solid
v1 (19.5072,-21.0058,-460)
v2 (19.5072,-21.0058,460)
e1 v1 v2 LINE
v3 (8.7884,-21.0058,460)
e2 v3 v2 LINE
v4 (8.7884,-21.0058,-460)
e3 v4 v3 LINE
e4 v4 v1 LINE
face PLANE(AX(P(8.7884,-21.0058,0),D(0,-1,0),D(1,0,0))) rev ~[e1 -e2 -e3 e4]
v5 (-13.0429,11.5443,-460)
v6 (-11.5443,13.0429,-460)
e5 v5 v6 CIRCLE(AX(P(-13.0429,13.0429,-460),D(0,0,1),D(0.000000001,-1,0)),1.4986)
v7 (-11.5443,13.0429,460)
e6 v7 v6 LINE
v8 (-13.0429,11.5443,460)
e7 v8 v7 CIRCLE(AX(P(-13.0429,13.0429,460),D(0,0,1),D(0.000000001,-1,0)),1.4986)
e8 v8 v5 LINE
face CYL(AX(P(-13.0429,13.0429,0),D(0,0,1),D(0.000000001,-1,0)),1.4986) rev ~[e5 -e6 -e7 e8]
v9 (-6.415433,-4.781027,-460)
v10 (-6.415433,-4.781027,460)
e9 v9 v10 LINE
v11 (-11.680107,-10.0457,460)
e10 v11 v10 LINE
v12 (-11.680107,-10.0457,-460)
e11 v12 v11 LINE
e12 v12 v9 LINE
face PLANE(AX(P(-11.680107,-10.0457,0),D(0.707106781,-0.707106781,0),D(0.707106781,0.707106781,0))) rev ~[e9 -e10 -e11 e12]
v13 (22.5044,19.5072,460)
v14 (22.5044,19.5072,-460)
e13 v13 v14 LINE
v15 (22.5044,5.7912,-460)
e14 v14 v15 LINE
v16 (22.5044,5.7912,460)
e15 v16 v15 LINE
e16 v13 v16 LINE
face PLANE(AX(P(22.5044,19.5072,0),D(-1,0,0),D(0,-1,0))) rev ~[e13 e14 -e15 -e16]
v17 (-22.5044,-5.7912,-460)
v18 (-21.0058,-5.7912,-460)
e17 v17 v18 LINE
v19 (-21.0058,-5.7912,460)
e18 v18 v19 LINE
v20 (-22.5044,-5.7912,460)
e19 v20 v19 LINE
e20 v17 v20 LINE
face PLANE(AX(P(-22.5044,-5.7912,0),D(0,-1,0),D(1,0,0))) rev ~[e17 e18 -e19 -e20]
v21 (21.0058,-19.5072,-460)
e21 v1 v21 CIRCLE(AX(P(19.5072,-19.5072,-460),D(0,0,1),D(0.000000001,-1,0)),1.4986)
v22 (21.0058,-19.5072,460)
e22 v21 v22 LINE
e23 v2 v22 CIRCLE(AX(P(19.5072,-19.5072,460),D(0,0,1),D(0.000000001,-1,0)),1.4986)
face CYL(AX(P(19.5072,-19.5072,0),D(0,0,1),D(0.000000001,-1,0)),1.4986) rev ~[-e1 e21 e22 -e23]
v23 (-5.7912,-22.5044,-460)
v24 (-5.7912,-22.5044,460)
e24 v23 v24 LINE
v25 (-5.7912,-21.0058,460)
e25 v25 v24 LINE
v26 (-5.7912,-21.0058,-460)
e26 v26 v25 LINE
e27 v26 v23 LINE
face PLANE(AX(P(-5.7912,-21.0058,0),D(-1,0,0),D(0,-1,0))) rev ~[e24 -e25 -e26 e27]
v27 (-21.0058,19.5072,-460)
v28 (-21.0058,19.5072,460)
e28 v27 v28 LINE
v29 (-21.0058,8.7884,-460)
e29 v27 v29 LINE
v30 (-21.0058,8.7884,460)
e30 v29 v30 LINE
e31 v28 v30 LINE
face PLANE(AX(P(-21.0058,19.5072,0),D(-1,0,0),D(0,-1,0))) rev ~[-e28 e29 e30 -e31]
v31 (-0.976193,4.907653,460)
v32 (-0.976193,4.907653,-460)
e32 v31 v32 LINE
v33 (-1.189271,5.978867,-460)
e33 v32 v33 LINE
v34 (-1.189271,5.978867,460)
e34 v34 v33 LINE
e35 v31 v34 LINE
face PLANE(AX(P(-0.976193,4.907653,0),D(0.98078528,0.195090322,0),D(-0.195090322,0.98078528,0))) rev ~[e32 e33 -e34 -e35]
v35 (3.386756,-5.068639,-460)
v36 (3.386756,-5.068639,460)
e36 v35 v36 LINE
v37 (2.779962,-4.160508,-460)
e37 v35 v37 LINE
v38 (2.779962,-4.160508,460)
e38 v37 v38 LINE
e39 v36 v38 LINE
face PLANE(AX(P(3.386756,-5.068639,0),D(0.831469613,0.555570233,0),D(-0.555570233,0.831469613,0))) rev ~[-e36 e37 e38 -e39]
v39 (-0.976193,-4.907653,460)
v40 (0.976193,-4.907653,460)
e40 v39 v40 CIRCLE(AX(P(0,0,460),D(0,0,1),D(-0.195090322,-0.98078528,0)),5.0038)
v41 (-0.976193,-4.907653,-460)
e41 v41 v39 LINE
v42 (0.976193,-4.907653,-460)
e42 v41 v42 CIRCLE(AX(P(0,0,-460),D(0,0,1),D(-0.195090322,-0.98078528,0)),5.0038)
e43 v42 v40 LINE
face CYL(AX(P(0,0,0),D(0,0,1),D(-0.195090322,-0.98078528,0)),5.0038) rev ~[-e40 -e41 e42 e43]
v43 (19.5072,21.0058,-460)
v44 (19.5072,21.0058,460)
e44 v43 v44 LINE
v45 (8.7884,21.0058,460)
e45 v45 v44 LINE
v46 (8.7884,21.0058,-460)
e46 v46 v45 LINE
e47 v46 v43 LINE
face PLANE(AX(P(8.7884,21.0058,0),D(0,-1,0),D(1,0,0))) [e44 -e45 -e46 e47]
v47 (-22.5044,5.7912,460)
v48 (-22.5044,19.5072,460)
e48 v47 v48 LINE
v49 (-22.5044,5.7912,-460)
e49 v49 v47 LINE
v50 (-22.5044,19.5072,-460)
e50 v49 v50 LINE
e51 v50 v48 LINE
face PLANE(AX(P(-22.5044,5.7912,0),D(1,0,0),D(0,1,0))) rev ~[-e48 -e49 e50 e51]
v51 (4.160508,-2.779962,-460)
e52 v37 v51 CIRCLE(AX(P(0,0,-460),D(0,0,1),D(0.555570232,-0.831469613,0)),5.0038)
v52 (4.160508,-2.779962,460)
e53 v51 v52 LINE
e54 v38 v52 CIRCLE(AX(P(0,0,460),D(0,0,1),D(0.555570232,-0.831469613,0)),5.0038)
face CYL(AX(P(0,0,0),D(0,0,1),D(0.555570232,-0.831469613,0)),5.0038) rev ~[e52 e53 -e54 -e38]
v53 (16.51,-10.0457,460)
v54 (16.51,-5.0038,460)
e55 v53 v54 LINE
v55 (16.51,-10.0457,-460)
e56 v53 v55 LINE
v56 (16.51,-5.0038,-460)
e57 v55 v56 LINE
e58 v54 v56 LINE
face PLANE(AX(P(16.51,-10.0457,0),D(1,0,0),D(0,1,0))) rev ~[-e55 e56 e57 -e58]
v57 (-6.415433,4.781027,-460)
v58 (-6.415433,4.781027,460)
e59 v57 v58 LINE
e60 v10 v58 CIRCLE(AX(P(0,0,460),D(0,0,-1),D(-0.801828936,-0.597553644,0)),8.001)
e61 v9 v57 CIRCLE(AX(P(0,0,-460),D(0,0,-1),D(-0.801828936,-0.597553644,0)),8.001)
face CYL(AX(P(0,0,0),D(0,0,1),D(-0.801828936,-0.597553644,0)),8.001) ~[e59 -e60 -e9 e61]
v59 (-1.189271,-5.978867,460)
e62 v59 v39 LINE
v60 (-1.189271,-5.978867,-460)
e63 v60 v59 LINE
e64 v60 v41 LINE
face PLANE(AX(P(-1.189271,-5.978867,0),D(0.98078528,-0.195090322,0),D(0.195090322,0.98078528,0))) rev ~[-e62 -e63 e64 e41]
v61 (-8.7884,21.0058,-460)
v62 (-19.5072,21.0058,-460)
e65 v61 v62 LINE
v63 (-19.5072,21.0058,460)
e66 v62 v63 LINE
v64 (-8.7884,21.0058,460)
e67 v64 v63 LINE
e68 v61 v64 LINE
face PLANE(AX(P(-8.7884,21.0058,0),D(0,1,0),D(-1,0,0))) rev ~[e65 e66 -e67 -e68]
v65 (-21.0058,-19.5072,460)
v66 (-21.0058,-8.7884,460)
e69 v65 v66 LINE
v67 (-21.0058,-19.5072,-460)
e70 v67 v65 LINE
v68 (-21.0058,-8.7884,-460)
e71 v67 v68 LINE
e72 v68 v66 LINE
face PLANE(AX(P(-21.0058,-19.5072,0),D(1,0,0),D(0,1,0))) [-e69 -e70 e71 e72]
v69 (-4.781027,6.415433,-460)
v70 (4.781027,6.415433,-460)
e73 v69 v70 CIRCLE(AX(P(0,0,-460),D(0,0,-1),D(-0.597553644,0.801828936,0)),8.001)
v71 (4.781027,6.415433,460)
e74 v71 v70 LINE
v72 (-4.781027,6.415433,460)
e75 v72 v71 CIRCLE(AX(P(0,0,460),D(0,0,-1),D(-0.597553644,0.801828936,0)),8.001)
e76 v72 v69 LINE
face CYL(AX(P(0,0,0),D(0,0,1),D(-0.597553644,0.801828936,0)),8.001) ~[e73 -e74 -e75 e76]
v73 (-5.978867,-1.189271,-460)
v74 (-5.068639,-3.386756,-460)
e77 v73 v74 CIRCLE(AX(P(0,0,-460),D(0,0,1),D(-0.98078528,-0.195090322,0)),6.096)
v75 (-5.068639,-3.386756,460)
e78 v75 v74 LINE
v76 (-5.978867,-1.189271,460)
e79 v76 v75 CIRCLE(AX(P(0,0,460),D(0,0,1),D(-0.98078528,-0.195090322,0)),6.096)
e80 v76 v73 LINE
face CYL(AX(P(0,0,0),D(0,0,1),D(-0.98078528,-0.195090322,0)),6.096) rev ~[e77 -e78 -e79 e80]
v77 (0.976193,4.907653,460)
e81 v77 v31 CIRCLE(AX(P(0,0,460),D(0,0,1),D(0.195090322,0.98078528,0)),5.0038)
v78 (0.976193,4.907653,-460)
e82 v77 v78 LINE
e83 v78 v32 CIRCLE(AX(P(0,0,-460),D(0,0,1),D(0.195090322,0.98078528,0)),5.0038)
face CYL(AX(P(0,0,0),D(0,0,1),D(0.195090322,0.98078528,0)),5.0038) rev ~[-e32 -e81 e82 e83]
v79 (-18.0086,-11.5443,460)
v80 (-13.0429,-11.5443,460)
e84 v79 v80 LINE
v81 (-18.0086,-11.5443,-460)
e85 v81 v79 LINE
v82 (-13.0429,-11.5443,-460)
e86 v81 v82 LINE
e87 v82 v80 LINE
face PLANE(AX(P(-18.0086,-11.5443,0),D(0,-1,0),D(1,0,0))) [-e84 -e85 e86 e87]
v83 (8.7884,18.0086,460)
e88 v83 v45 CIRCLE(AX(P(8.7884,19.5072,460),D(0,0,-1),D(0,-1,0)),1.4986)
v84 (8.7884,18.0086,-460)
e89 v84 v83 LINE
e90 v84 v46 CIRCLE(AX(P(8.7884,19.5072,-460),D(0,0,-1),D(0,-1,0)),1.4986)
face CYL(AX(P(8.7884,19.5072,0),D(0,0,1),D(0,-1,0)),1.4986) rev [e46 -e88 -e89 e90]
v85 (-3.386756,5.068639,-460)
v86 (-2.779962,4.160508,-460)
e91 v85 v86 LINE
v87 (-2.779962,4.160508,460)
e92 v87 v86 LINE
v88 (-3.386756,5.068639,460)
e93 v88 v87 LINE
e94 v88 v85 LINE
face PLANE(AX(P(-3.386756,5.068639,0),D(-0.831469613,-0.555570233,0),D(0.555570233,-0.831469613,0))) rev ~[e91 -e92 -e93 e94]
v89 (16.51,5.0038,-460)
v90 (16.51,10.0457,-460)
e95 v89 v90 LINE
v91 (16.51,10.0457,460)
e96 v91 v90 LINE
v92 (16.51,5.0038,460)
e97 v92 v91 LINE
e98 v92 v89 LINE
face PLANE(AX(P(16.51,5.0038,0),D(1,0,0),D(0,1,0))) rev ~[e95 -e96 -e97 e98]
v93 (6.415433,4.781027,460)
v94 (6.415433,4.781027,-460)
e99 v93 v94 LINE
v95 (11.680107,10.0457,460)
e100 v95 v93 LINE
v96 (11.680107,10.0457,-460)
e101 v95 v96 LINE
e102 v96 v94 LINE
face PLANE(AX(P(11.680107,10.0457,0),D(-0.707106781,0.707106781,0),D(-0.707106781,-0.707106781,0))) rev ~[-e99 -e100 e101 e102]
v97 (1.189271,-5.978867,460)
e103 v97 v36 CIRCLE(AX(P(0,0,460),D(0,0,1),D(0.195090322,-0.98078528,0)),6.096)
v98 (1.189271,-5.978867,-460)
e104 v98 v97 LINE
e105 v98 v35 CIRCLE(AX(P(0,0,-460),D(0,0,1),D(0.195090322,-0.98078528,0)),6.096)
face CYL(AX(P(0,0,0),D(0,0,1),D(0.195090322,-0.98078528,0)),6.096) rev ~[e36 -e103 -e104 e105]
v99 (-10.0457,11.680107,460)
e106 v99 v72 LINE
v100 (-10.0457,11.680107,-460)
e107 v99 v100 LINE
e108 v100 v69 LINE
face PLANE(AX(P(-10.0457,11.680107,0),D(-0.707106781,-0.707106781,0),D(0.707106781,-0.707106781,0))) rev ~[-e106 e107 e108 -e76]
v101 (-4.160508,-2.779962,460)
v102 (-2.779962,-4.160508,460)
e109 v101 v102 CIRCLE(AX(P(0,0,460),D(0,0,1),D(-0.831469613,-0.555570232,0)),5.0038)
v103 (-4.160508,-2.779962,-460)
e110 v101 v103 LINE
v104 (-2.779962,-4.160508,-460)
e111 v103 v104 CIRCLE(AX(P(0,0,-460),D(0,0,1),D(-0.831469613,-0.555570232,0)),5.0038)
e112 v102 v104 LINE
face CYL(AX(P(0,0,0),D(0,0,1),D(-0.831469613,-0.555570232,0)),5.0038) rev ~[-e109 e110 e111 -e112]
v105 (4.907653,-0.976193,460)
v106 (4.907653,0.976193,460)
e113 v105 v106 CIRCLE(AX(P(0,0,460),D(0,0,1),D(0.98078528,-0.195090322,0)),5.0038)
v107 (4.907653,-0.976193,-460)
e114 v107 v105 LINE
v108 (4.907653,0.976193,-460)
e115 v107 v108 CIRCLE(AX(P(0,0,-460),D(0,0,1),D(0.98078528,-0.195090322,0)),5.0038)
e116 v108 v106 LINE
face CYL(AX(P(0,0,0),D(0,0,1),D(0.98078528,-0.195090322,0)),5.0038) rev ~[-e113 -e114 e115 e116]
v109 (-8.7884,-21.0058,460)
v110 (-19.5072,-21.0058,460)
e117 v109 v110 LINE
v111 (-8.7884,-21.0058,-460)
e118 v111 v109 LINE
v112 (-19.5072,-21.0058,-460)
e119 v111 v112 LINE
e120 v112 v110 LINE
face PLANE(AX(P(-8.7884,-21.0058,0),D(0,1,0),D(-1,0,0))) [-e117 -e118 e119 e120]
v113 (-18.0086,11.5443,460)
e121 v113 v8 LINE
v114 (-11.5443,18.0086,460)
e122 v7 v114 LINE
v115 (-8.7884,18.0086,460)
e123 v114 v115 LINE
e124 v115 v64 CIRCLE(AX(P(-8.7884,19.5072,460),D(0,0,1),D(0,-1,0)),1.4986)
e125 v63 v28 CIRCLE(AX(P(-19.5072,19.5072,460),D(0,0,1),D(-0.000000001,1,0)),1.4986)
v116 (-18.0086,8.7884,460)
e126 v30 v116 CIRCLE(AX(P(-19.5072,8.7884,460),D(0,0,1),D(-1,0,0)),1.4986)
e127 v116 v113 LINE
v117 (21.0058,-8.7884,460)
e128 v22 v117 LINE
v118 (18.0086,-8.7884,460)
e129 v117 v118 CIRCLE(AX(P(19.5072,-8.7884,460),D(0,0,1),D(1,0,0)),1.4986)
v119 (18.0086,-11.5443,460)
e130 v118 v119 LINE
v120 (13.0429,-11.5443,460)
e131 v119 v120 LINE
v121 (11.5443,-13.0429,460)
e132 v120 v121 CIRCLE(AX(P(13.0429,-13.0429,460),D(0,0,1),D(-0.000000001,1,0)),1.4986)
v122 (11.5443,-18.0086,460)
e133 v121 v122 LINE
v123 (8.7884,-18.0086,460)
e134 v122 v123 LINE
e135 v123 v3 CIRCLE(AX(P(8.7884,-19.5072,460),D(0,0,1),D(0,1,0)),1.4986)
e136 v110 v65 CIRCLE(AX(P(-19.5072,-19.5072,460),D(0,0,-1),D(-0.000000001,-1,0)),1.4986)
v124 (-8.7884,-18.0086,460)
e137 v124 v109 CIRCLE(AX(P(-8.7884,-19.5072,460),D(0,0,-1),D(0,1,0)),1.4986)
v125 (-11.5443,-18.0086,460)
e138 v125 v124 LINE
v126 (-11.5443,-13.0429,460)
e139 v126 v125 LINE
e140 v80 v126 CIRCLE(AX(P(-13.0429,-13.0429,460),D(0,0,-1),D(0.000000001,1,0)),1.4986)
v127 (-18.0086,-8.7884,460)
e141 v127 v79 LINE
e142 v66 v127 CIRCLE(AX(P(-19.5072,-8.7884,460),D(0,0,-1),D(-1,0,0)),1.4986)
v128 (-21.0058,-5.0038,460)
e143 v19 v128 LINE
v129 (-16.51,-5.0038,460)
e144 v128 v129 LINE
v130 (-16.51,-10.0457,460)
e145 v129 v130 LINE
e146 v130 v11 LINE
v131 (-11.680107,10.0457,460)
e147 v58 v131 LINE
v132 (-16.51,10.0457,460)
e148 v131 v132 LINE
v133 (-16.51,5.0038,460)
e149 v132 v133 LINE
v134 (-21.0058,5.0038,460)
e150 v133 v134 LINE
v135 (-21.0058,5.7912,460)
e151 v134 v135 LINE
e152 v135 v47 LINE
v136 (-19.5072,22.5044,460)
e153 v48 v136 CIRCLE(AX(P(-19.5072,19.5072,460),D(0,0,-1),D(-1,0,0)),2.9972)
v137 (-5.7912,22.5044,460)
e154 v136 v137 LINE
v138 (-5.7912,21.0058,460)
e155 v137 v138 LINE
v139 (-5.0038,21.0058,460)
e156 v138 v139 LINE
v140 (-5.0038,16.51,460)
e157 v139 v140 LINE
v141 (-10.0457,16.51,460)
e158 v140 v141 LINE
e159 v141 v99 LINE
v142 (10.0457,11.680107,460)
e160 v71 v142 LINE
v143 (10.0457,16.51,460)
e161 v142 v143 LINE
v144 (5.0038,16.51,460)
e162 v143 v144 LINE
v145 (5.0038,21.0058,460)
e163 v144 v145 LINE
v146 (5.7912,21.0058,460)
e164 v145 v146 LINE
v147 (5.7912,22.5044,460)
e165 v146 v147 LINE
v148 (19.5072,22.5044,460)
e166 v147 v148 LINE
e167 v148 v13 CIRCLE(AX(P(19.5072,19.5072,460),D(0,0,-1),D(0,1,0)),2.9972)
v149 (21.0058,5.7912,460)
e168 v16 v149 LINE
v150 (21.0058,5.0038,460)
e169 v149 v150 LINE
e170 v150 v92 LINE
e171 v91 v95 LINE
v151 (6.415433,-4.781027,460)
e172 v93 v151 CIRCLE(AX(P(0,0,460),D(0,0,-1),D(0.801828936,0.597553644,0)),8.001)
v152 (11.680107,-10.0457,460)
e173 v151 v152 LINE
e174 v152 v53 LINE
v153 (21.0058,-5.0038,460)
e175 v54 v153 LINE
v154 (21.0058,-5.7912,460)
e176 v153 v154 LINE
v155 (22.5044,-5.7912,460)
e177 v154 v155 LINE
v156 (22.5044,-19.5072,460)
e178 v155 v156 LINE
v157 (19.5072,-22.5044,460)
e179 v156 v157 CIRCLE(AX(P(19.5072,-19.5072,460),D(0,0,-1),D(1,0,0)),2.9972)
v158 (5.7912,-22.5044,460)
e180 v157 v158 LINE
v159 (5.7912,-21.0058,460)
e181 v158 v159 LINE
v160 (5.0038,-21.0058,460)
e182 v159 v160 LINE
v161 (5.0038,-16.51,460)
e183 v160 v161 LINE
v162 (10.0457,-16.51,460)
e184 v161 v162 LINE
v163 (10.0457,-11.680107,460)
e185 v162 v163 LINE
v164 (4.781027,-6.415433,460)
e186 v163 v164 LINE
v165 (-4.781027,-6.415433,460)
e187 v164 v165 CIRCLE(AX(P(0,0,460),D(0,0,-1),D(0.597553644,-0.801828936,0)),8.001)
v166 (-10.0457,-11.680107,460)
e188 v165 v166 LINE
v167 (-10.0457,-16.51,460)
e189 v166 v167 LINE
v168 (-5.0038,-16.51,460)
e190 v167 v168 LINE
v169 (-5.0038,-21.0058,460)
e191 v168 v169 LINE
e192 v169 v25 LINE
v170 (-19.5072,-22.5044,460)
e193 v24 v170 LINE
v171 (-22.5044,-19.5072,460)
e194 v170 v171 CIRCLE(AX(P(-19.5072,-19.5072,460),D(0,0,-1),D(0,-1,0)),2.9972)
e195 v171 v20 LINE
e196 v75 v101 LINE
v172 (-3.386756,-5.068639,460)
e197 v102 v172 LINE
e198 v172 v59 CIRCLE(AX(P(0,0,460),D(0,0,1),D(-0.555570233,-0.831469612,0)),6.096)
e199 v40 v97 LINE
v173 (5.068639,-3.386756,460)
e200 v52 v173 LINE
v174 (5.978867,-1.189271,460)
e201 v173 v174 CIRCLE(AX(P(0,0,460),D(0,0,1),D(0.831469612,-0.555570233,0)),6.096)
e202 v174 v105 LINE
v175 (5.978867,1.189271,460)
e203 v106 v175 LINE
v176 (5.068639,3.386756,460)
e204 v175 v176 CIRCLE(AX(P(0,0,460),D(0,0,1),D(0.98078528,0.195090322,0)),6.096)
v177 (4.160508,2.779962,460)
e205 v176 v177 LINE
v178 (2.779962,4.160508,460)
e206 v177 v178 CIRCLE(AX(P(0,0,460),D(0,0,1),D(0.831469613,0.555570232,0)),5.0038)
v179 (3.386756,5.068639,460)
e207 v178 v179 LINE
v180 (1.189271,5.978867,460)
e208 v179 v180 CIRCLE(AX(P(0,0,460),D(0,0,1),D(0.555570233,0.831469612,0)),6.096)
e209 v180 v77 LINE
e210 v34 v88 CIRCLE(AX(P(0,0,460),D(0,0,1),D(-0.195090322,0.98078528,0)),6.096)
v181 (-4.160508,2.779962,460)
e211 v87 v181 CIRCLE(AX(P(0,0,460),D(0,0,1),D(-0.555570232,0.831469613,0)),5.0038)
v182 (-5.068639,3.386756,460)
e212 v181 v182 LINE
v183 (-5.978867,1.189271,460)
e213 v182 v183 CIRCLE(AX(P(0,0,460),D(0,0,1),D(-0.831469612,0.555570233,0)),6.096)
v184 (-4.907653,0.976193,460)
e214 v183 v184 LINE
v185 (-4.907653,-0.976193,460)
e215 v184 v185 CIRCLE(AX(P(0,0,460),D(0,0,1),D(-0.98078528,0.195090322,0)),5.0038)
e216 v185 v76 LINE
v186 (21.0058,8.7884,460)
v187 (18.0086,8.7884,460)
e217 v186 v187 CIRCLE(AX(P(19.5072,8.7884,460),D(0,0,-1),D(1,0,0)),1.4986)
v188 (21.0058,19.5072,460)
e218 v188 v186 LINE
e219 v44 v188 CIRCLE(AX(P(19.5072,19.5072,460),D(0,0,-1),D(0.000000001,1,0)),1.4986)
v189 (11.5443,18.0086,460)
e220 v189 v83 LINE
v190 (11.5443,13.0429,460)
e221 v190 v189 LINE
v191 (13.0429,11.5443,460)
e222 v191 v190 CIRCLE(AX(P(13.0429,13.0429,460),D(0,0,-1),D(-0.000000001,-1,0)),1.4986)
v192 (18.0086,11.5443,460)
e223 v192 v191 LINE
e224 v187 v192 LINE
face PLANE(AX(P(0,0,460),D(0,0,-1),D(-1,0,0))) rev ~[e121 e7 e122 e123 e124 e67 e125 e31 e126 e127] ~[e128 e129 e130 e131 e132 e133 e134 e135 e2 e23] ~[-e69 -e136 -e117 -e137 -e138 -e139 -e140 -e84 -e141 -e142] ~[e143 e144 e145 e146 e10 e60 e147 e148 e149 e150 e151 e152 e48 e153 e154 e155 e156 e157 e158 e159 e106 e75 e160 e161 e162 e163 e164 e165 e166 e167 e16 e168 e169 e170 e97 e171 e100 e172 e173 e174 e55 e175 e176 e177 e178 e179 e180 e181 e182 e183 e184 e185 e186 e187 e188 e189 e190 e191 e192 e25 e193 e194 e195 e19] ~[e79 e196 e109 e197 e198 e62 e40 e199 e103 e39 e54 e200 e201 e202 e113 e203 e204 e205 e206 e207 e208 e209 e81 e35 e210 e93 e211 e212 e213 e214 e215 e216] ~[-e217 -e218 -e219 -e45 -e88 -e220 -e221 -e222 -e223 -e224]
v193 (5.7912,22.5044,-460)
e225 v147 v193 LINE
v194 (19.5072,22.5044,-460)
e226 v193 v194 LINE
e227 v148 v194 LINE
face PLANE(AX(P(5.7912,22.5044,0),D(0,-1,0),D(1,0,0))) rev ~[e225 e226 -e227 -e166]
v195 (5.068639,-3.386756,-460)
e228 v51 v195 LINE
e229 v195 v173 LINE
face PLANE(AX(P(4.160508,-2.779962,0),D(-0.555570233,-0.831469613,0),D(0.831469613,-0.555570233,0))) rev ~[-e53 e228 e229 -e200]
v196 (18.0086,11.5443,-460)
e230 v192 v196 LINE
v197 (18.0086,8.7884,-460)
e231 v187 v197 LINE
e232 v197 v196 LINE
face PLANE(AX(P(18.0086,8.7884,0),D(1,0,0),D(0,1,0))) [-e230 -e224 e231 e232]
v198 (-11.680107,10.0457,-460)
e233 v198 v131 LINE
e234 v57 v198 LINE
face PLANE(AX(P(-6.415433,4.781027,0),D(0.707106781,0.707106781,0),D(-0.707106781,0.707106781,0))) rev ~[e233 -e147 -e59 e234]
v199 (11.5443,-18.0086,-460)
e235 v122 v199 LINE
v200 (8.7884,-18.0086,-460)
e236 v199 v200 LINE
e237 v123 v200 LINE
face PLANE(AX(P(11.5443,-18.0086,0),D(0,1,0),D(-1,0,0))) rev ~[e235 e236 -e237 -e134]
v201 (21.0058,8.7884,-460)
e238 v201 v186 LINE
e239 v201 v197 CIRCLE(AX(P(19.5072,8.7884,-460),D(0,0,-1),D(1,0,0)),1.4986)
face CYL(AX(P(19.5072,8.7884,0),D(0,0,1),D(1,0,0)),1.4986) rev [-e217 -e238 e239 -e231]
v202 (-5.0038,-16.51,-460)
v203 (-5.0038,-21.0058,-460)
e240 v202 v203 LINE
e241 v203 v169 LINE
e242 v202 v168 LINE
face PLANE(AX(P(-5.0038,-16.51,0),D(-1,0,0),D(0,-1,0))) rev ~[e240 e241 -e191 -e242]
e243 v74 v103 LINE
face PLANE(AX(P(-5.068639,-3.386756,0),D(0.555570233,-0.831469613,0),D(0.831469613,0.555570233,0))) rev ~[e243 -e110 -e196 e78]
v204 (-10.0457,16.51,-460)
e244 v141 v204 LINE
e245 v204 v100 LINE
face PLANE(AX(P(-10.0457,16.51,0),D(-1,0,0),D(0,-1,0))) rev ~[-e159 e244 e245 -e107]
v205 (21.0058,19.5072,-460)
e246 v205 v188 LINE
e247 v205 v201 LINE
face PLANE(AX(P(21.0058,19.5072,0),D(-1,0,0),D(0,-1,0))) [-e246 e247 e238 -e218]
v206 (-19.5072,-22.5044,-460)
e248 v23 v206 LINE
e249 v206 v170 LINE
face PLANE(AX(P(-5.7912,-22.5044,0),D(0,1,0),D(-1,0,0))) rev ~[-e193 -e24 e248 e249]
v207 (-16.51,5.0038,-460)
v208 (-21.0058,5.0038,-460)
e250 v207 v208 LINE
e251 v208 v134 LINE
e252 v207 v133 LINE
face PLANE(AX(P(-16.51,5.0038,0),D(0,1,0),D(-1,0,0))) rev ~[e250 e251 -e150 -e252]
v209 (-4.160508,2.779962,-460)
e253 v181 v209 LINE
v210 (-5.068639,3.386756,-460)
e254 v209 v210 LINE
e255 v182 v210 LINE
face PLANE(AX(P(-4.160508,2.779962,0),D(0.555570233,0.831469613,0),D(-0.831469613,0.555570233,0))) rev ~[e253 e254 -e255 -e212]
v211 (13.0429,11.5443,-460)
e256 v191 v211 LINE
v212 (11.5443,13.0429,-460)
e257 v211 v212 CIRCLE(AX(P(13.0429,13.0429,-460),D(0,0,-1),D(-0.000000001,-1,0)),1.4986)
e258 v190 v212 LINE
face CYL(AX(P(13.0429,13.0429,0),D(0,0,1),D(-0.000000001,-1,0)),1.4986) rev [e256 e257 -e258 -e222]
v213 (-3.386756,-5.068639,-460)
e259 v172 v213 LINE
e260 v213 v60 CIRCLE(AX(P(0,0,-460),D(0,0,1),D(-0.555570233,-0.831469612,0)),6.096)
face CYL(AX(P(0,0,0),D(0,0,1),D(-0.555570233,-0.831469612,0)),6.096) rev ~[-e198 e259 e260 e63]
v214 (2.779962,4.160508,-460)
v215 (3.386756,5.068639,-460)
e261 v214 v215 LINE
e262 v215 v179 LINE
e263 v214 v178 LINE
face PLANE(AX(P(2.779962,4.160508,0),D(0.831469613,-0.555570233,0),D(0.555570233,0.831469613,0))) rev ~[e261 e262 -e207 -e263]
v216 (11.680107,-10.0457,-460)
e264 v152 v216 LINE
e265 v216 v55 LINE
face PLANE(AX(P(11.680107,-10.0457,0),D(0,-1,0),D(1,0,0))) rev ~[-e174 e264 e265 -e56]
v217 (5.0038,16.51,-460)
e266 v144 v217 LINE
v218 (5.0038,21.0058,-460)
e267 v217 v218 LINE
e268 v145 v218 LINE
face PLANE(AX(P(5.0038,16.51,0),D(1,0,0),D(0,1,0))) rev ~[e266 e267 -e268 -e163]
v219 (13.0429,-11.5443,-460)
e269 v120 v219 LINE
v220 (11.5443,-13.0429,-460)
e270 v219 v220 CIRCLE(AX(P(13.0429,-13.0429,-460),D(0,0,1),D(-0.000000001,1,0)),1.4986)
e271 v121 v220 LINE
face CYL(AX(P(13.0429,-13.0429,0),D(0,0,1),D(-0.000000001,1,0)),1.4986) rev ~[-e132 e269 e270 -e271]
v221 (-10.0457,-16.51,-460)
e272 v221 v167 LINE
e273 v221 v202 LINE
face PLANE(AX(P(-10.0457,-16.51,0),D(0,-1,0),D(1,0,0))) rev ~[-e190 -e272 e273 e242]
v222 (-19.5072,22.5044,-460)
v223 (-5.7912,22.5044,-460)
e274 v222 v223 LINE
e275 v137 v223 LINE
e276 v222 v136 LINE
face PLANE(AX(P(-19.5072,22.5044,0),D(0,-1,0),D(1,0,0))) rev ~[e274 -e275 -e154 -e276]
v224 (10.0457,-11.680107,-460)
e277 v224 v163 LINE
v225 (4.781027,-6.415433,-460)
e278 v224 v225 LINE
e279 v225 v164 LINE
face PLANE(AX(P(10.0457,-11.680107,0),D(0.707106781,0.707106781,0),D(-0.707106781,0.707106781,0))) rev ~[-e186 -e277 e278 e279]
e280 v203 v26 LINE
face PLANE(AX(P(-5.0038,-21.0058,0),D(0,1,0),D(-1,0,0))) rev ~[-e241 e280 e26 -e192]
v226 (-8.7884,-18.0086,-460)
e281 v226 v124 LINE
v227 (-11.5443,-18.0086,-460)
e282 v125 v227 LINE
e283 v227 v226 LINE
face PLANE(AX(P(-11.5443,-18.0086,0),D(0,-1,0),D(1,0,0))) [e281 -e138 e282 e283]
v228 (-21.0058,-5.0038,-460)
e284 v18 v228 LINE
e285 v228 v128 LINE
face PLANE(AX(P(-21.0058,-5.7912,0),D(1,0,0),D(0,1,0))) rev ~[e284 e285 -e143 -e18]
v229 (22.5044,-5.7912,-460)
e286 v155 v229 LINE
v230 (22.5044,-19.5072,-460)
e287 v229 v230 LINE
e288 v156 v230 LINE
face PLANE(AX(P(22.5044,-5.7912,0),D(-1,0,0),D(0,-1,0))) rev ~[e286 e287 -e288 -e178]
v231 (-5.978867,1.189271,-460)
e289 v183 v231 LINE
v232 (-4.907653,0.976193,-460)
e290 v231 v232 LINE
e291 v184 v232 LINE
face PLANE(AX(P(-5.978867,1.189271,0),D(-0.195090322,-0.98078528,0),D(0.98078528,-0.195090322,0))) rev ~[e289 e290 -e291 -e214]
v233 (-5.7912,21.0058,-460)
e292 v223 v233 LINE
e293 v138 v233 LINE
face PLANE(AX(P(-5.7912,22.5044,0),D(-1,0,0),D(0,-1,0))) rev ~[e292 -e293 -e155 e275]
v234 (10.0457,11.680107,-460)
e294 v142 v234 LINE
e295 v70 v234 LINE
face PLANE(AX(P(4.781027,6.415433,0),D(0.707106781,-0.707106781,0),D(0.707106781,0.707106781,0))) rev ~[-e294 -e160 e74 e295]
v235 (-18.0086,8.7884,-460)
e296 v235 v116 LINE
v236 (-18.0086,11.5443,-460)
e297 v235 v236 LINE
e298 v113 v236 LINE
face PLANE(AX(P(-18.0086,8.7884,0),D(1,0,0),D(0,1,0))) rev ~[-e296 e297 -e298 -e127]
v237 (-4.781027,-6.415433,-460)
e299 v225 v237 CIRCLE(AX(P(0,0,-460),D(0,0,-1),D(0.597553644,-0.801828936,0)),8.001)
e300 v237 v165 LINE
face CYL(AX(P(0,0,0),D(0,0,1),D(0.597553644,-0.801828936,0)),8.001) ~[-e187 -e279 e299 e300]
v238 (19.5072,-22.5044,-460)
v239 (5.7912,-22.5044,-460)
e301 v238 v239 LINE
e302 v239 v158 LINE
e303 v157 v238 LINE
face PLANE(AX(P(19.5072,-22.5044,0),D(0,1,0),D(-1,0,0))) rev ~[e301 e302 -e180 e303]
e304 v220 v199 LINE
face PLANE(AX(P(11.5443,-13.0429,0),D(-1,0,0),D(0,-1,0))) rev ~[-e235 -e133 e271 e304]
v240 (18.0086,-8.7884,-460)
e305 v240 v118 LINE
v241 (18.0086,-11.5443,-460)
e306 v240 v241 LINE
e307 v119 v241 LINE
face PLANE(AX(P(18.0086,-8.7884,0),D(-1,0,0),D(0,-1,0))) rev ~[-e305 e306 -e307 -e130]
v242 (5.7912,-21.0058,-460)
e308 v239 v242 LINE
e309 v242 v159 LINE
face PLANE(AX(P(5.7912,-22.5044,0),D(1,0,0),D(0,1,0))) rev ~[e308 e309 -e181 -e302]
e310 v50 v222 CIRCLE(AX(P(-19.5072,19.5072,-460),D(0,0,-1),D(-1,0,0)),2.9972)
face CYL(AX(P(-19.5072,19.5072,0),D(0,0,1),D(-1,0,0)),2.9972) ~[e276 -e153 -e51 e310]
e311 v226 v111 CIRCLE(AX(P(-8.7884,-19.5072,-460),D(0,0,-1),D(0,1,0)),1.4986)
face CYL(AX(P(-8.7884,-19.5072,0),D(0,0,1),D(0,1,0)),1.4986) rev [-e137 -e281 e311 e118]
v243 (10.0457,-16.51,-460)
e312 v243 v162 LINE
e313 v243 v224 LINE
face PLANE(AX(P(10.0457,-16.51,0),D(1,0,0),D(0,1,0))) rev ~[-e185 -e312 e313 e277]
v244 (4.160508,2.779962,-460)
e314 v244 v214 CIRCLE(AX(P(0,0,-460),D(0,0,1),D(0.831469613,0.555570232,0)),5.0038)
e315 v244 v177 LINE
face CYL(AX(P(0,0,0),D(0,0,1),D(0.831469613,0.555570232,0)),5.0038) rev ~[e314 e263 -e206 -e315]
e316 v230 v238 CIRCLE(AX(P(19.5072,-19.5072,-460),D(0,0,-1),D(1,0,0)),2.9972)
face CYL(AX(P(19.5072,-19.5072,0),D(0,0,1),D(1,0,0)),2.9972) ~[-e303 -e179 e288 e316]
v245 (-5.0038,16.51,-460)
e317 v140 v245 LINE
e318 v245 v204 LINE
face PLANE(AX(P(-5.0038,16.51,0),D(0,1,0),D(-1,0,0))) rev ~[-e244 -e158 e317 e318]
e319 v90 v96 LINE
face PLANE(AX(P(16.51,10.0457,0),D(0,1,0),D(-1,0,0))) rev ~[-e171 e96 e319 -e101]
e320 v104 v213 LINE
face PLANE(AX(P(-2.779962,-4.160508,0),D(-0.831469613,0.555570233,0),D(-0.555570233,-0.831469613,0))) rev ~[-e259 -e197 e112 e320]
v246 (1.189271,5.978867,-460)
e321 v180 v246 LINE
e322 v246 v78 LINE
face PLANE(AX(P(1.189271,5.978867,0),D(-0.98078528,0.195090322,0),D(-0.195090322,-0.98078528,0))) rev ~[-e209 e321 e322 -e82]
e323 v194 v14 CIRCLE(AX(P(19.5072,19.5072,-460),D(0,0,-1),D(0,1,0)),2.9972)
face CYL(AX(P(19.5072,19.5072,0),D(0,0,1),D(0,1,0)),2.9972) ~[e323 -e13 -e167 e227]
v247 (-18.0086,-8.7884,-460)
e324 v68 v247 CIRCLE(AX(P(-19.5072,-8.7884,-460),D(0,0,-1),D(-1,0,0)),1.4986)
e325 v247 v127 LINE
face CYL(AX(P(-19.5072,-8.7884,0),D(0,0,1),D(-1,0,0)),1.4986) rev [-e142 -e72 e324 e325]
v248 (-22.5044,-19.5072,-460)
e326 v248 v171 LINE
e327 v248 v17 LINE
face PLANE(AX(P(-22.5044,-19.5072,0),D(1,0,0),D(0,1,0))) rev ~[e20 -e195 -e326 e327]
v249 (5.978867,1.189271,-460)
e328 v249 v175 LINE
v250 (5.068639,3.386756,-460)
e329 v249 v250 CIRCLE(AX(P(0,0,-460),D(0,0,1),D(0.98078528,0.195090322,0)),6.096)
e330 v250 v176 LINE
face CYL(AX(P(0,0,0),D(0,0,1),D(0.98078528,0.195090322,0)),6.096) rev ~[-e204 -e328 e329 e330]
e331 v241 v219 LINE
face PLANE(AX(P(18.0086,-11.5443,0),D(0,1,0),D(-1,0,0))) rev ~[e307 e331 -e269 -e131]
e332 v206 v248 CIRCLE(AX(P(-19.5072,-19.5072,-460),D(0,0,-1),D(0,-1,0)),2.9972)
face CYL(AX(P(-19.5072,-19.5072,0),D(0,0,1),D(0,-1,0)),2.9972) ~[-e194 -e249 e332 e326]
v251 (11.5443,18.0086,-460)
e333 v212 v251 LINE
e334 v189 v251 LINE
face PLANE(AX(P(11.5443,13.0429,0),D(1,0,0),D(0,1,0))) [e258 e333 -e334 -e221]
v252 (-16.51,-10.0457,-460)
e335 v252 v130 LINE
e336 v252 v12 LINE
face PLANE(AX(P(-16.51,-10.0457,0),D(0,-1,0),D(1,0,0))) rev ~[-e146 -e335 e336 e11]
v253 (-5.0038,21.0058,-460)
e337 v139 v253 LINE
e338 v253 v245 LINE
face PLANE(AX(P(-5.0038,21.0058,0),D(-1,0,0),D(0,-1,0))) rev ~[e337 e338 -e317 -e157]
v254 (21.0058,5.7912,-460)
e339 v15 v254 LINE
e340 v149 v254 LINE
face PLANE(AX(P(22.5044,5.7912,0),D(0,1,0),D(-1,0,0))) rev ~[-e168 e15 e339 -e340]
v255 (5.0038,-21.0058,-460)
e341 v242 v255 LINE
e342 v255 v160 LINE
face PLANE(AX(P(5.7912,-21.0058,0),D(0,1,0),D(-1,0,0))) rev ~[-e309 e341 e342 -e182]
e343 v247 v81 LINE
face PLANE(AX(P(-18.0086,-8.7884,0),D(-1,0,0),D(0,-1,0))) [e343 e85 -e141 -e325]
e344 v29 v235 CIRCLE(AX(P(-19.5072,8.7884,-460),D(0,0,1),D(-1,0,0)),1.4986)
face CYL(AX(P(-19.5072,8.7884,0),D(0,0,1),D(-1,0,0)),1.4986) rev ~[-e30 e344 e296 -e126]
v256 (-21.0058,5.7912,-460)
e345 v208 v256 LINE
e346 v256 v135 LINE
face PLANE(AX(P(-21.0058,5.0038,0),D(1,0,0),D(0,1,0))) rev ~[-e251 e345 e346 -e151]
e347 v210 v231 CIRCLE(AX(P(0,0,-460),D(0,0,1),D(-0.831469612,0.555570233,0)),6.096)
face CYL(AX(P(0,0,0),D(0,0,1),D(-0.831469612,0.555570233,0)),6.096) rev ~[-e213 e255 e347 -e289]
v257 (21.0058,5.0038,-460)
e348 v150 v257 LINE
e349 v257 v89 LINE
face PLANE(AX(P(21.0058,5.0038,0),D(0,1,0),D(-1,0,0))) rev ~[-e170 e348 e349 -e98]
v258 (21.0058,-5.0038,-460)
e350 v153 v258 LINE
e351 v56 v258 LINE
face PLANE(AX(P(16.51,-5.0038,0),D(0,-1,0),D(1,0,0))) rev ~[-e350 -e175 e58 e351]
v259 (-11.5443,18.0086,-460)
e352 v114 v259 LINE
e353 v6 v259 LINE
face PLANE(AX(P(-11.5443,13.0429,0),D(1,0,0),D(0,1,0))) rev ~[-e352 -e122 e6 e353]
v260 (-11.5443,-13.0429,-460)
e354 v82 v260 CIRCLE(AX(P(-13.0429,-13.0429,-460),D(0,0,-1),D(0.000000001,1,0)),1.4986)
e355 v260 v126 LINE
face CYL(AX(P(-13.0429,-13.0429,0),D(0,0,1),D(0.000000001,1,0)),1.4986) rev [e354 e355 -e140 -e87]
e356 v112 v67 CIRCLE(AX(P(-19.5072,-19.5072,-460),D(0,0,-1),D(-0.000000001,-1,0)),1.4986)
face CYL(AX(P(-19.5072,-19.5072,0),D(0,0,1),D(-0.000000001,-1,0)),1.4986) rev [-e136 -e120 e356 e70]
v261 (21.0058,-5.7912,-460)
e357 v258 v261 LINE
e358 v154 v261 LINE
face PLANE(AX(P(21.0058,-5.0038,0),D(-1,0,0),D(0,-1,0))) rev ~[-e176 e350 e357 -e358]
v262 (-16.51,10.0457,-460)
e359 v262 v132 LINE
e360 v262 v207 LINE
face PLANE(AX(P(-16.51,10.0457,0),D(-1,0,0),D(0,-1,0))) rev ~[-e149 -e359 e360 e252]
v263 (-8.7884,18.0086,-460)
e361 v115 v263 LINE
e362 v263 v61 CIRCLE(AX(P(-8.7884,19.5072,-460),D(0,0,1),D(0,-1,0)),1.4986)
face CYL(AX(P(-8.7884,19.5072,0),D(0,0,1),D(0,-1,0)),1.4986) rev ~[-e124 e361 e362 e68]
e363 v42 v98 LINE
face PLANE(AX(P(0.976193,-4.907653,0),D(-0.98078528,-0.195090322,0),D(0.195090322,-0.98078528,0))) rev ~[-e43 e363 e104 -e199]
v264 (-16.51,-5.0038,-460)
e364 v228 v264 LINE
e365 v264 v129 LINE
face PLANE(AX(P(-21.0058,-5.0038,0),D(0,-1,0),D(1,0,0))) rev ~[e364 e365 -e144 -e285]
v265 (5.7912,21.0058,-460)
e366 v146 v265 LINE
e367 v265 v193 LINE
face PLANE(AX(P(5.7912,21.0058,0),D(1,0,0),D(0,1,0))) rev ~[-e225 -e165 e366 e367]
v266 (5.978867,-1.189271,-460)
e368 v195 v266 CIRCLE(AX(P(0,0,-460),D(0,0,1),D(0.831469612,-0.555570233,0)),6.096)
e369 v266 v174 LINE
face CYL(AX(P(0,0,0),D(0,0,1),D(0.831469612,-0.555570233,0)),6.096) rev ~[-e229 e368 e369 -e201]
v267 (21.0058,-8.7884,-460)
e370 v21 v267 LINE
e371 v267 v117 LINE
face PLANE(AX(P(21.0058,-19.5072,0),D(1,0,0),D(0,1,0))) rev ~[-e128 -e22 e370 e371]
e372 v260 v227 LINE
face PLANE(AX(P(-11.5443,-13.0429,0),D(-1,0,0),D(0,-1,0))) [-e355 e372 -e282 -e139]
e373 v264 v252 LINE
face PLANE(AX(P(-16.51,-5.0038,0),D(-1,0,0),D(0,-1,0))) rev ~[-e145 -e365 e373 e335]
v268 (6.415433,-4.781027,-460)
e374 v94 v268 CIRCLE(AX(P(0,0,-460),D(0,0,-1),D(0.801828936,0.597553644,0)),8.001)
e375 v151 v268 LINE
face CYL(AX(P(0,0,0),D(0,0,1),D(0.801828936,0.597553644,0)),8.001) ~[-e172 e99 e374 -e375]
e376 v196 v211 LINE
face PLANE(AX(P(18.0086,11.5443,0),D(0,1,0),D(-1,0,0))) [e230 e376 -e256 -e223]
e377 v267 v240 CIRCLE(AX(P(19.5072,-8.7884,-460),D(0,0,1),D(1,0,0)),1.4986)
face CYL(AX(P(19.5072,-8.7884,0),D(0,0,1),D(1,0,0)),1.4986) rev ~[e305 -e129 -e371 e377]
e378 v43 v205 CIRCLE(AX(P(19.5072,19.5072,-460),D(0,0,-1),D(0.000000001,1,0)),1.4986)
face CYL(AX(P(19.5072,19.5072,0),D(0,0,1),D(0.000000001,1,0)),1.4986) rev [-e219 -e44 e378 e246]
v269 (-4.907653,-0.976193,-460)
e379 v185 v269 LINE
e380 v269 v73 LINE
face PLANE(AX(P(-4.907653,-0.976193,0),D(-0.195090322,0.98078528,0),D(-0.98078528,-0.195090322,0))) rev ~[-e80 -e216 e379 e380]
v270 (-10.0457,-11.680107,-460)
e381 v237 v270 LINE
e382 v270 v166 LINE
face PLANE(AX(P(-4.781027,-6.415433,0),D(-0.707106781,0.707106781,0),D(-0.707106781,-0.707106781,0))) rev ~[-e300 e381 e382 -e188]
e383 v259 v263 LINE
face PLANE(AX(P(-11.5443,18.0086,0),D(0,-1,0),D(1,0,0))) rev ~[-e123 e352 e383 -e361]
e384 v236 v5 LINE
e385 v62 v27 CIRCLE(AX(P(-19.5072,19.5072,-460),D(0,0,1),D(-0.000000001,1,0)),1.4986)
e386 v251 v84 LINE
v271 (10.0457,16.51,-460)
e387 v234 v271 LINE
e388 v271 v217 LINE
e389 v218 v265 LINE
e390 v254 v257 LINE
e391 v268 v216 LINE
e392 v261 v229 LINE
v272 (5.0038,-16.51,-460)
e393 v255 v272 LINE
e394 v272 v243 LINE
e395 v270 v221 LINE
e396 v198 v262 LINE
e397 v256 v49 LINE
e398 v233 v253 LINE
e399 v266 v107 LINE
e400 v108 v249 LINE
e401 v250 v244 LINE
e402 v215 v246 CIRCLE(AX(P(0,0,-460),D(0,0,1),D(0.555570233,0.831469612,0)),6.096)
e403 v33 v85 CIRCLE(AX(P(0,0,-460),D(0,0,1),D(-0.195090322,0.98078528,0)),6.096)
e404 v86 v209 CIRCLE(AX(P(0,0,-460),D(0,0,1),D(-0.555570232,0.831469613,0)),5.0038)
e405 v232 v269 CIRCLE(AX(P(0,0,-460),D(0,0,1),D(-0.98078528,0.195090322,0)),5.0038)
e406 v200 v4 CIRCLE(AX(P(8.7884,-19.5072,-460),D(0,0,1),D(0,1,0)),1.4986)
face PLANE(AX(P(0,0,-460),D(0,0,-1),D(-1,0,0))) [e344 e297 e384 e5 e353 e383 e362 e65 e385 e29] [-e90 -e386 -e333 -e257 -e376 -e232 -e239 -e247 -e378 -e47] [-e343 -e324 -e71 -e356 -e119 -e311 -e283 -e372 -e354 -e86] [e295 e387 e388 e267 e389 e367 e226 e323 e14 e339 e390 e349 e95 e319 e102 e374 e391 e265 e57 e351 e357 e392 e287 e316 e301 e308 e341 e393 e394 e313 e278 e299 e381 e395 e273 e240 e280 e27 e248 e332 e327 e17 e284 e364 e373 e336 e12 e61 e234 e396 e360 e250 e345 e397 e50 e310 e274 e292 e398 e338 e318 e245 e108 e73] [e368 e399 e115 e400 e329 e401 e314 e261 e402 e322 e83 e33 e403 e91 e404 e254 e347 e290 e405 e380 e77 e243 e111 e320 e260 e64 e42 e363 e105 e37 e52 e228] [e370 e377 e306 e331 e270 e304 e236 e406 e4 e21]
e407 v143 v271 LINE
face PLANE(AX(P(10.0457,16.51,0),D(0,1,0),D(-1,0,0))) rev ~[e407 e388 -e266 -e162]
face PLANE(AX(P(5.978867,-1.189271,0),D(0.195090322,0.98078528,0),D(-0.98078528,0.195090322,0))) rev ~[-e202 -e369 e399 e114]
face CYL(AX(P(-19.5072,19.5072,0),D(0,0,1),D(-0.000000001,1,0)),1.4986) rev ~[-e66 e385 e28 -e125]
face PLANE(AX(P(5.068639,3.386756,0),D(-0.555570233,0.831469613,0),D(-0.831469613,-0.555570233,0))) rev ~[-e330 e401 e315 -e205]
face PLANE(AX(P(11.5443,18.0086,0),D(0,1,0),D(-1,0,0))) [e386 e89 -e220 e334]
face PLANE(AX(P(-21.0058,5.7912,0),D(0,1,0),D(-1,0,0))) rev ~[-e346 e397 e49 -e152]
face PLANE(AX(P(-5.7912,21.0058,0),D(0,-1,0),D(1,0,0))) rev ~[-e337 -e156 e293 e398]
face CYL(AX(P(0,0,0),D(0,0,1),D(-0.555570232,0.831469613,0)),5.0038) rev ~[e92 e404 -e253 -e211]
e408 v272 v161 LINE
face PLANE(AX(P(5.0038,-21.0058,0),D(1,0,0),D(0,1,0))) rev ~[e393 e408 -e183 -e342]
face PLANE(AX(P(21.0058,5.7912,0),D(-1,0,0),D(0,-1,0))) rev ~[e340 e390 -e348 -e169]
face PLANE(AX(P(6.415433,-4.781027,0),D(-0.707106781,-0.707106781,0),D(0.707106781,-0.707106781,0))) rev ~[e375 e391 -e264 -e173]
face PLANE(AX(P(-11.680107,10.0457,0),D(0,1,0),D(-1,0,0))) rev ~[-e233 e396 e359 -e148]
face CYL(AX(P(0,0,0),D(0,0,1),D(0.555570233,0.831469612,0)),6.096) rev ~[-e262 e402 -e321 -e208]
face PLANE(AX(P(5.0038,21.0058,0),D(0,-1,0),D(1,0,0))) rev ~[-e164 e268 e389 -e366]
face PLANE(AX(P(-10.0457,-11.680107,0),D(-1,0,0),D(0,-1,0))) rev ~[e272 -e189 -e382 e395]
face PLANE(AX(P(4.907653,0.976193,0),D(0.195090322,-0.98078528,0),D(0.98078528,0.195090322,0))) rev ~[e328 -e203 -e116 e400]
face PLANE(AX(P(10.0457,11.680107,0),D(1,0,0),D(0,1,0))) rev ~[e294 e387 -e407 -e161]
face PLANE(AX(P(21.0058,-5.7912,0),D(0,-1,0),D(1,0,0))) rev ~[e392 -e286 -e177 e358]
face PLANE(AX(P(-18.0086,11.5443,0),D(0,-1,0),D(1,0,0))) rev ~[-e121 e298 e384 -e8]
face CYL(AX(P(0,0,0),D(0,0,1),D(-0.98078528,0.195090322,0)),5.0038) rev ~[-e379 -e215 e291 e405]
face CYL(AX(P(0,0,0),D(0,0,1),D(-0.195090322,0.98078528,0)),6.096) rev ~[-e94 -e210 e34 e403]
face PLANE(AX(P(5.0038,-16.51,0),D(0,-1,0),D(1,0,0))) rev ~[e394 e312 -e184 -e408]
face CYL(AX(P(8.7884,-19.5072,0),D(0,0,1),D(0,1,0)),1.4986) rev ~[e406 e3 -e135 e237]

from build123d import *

# Parameters (mm, degrees)
BOSS_EXTRUDE1_DEPTH = 460


with BuildPart() as part:
    # Sketch1 → Boss-Extrude1 (new, symmetric)
    with BuildSketch(Plane.XY):
        with BuildLine():
            Line((-19.5072, 22.5044), (-5.7912, 22.5044))
            Line((-5.7912, 22.5044), (-5.7912, 21.0058))
            Line((-5.7912, 21.0058), (-5.0038, 21.0058))
            Line((-5.0038, 21.0058), (-5.0038, 16.51))
            Line((-5.0038, 16.51), (-10.0457, 16.51))
            Line((-10.0457, 16.51), (-10.0457, 11.680106614))
            Line((-10.0457, 11.680106614), (-4.781026704, 6.415433318))
            ThreePointArc((-4.781026704, 6.415433318), (0, 8.001), (4.781026704, 6.415433318))
            Line((4.781026704, 6.415433318), (10.0457, 11.680106614))
            Line((10.0457, 11.680106614), (10.0457, 16.51))
            Line((10.0457, 16.51), (5.0038, 16.51))
            Line((5.0038, 16.51), (5.0038, 21.0058))
            Line((5.0038, 21.0058), (5.7912, 21.0058))
            Line((5.7912, 21.0058), (5.7912, 22.5044))
            Line((5.7912, 22.5044), (19.5072, 22.5044))
            ThreePointArc((19.5072, 22.5044), (21.626540445, 21.626540445), (22.5044, 19.5072))
            Line((22.5044, 19.5072), (22.5044, 5.7912))
            Line((22.5044, 5.7912), (21.0058, 5.7912))
            Line((21.0058, 5.7912), (21.0058, 5.0038))
            Line((21.0058, 5.0038), (16.51, 5.0038))
            Line((16.51, 5.0038), (16.51, 10.0457))
            Line((16.51, 10.0457), (11.680106614, 10.0457))
            Line((11.680106614, 10.0457), (6.415433318, 4.781026704))
            ThreePointArc((6.415433318, 4.781026704), (8.001, 0), (6.415433318, -4.781026704))
            Line((6.415433318, -4.781026704), (11.680106614, -10.0457))
            Line((11.680106614, -10.0457), (16.51, -10.0457))
            Line((16.51, -10.0457), (16.51, -5.0038))
            Line((16.51, -5.0038), (21.0058, -5.0038))
            Line((21.0058, -5.0038), (21.0058, -5.7912))
            Line((21.0058, -5.7912), (22.5044, -5.7912))
            Line((22.5044, -5.7912), (22.5044, -19.5072))
            ThreePointArc((22.5044, -19.5072), (21.626540445, -21.626540445), (19.5072, -22.5044))
            Line((19.5072, -22.5044), (5.7912, -22.5044))
            Line((5.7912, -22.5044), (5.7912, -21.0058))
            Line((5.7912, -21.0058), (5.0038, -21.0058))
            Line((5.0038, -21.0058), (5.0038, -16.51))
            Line((5.0038, -16.51), (10.0457, -16.51))
            Line((10.0457, -16.51), (10.0457, -11.680106614))
            Line((10.0457, -11.680106614), (4.781026704, -6.415433318))
            ThreePointArc((4.781026704, -6.415433318), (0, -8.001), (-4.781026704, -6.415433318))
            Line((-4.781026704, -6.415433318), (-10.0457, -11.680106614))
            Line((-10.0457, -11.680106614), (-10.0457, -16.51))
            Line((-10.0457, -16.51), (-5.0038, -16.51))
            Line((-5.0038, -16.51), (-5.0038, -21.0058))
            Line((-5.0038, -21.0058), (-5.7912, -21.0058))
            Line((-5.7912, -21.0058), (-5.7912, -22.5044))
            Line((-5.7912, -22.5044), (-19.5072, -22.5044))
            ThreePointArc((-19.5072, -22.5044), (-21.626540445, -21.626540445), (-22.5044, -19.5072))
            Line((-22.5044, -19.5072), (-22.5044, -5.7912))
            Line((-22.5044, -5.7912), (-21.0058, -5.7912))
            Line((-21.0058, -5.7912), (-21.0058, -5.0038))
            Line((-21.0058, -5.0038), (-16.51, -5.0038))
            Line((-16.51, -5.0038), (-16.51, -10.0457))
            Line((-16.51, -10.0457), (-11.680106614, -10.0457))
            Line((-11.680106614, -10.0457), (-6.415433318, -4.781026704))
            ThreePointArc((-6.415433318, -4.781026704), (-8.001, 0), (-6.415433318, 4.781026704))
            Line((-6.415433318, 4.781026704), (-11.680106614, 10.0457))
            Line((-11.680106614, 10.0457), (-16.51, 10.0457))
            Line((-16.51, 10.0457), (-16.51, 5.0038))
            Line((-16.51, 5.0038), (-21.0058, 5.0038))
            Line((-21.0058, 5.0038), (-21.0058, 5.7912))
            Line((-21.0058, 5.7912), (-22.5044, 5.7912))
            Line((-22.5044, 5.7912), (-22.5044, 19.5072))
            ThreePointArc((-22.5044, 19.5072), (-21.626540445, 21.626540445), (-19.5072, 22.5044))
        make_face()
        with BuildLine():
            Line((-18.0086, 11.5443), (-13.0429, 11.5443))
            ThreePointArc((-13.0429, 11.5443), (-11.983229778, 11.983229778), (-11.5443, 13.0429))
            Line((-11.5443, 13.0429), (-11.5443, 18.0086))
            Line((-11.5443, 18.0086), (-8.7884, 18.0086))
            ThreePointArc((-8.7884, 18.0086), (-7.2898, 19.5072), (-8.7884, 21.0058))
            Line((-8.7884, 21.0058), (-19.5072, 21.0058))
            ThreePointArc((-19.5072, 21.0058), (-20.566870222, 20.566870222), (-21.0058, 19.5072))
            Line((-21.0058, 19.5072), (-21.0058, 8.7884))
            ThreePointArc((-21.0058, 8.7884), (-19.5072, 7.2898), (-18.0086, 8.7884))
            Line((-18.0086, 8.7884), (-18.0086, 11.5443))
        make_face(mode=Mode.SUBTRACT)
        with BuildLine():
            Line((1.189270603, 5.978867069), (0.976192953, 4.907653386))
            ThreePointArc((0.976192953, 4.907653386), (0, 5.0038), (-0.976192953, 4.907653386))
            Line((-0.976192953, 4.907653386), (-1.189270603, 5.978867069))
            ThreePointArc((-1.189270603, 5.978867069), (-2.332838204, 5.63196963), (-3.38675614, 5.068638757))
            Line((-3.38675614, 5.068638757), (-2.779962332, 4.160507646))
            ThreePointArc((-2.779962332, 4.160507646), (-3.538220912, 3.538220912), (-4.160507646, 2.779962332))
            Line((-4.160507646, 2.779962332), (-5.068638757, 3.38675614))
            ThreePointArc((-5.068638757, 3.38675614), (-5.63196963, 2.332838204), (-5.978867069, 1.189270603))
            Line((-5.978867069, 1.189270603), (-4.907653386, 0.976192953))
            ThreePointArc((-4.907653386, 0.976192953), (-5.0038, 0), (-4.907653386, -0.976192953))
            Line((-4.907653386, -0.976192953), (-5.978867069, -1.189270603))
            ThreePointArc((-5.978867069, -1.189270603), (-5.63196963, -2.332838204), (-5.068638757, -3.38675614))
            Line((-5.068638757, -3.38675614), (-4.160507646, -2.779962332))
            ThreePointArc((-4.160507646, -2.779962332), (-3.538220912, -3.538220912), (-2.779962332, -4.160507646))
            Line((-2.779962332, -4.160507646), (-3.38675614, -5.068638757))
            ThreePointArc((-3.38675614, -5.068638757), (-2.332838204, -5.63196963), (-1.189270603, -5.978867069))
            Line((-1.189270603, -5.978867069), (-0.976192953, -4.907653386))
            ThreePointArc((-0.976192953, -4.907653386), (0, -5.0038), (0.976192953, -4.907653386))
            Line((0.976192953, -4.907653386), (1.189270603, -5.978867069))
            ThreePointArc((1.189270603, -5.978867069), (2.332838204, -5.63196963), (3.38675614, -5.068638757))
            Line((3.38675614, -5.068638757), (2.779962332, -4.160507646))
            ThreePointArc((2.779962332, -4.160507646), (3.538220912, -3.538220912), (4.160507646, -2.779962332))
            Line((4.160507646, -2.779962332), (5.068638757, -3.38675614))
            ThreePointArc((5.068638757, -3.38675614), (5.63196963, -2.332838204), (5.978867069, -1.189270603))
            Line((5.978867069, -1.189270603), (4.907653386, -0.976192953))
            ThreePointArc((4.907653386, -0.976192953), (5.0038, 0), (4.907653386, 0.976192953))
            Line((4.907653386, 0.976192953), (5.978867069, 1.189270603))
            ThreePointArc((5.978867069, 1.189270603), (5.63196963, 2.332838204), (5.068638757, 3.38675614))
            Line((5.068638757, 3.38675614), (4.160507646, 2.779962332))
            ThreePointArc((4.160507646, 2.779962332), (3.538220912, 3.538220912), (2.779962332, 4.160507646))
            Line((2.779962332, 4.160507646), (3.38675614, 5.068638757))
            ThreePointArc((3.38675614, 5.068638757), (2.332838204, 5.63196963), (1.189270603, 5.978867069))
        make_face(mode=Mode.SUBTRACT)
        with BuildLine():
            Line((11.5443, 18.0086), (8.7884, 18.0086))
            ThreePointArc((8.7884, 18.0086), (7.2898, 19.5072), (8.7884, 21.0058))
            Line((8.7884, 21.0058), (19.5072, 21.0058))
            ThreePointArc((19.5072, 21.0058), (20.566870222, 20.566870222), (21.0058, 19.5072))
            Line((21.0058, 19.5072), (21.0058, 8.7884))
            ThreePointArc((21.0058, 8.7884), (19.5072, 7.2898), (18.0086, 8.7884))
            Line((18.0086, 8.7884), (18.0086, 11.5443))
            Line((18.0086, 11.5443), (13.0429, 11.5443))
            ThreePointArc((13.0429, 11.5443), (11.983229778, 11.983229778), (11.5443, 13.0429))
            Line((11.5443, 13.0429), (11.5443, 18.0086))
        make_face(mode=Mode.SUBTRACT)
        with BuildLine():
            Line((18.0086, -11.5443), (13.0429, -11.5443))
            ThreePointArc((13.0429, -11.5443), (11.983229778, -11.983229778), (11.5443, -13.0429))
            Line((11.5443, -13.0429), (11.5443, -18.0086))
            Line((11.5443, -18.0086), (8.7884, -18.0086))
            ThreePointArc((8.7884, -18.0086), (7.2898, -19.5072), (8.7884, -21.0058))
            Line((8.7884, -21.0058), (19.5072, -21.0058))
            ThreePointArc((19.5072, -21.0058), (20.566870222, -20.566870222), (21.0058, -19.5072))
            Line((21.0058, -19.5072), (21.0058, -8.7884))
            ThreePointArc((21.0058, -8.7884), (19.5072, -7.2898), (18.0086, -8.7884))
            Line((18.0086, -8.7884), (18.0086, -11.5443))
        make_face(mode=Mode.SUBTRACT)
        with BuildLine():
            Line((-11.5443, -18.0086), (-8.7884, -18.0086))
            ThreePointArc((-8.7884, -18.0086), (-7.2898, -19.5072), (-8.7884, -21.0058))
            Line((-8.7884, -21.0058), (-19.5072, -21.0058))
            ThreePointArc((-19.5072, -21.0058), (-20.566870222, -20.566870222), (-21.0058, -19.5072))
            Line((-21.0058, -19.5072), (-21.0058, -8.7884))
            ThreePointArc((-21.0058, -8.7884), (-19.5072, -7.2898), (-18.0086, -8.7884))
            Line((-18.0086, -8.7884), (-18.0086, -11.5443))
            Line((-18.0086, -11.5443), (-13.0429, -11.5443))
            ThreePointArc((-13.0429, -11.5443), (-11.983229778, -11.983229778), (-11.5443, -13.0429))
            Line((-11.5443, -13.0429), (-11.5443, -18.0086))
        make_face(mode=Mode.SUBTRACT)
    extrude(amount=BOSS_EXTRUDE1_DEPTH, both=True)


solid = part.part
